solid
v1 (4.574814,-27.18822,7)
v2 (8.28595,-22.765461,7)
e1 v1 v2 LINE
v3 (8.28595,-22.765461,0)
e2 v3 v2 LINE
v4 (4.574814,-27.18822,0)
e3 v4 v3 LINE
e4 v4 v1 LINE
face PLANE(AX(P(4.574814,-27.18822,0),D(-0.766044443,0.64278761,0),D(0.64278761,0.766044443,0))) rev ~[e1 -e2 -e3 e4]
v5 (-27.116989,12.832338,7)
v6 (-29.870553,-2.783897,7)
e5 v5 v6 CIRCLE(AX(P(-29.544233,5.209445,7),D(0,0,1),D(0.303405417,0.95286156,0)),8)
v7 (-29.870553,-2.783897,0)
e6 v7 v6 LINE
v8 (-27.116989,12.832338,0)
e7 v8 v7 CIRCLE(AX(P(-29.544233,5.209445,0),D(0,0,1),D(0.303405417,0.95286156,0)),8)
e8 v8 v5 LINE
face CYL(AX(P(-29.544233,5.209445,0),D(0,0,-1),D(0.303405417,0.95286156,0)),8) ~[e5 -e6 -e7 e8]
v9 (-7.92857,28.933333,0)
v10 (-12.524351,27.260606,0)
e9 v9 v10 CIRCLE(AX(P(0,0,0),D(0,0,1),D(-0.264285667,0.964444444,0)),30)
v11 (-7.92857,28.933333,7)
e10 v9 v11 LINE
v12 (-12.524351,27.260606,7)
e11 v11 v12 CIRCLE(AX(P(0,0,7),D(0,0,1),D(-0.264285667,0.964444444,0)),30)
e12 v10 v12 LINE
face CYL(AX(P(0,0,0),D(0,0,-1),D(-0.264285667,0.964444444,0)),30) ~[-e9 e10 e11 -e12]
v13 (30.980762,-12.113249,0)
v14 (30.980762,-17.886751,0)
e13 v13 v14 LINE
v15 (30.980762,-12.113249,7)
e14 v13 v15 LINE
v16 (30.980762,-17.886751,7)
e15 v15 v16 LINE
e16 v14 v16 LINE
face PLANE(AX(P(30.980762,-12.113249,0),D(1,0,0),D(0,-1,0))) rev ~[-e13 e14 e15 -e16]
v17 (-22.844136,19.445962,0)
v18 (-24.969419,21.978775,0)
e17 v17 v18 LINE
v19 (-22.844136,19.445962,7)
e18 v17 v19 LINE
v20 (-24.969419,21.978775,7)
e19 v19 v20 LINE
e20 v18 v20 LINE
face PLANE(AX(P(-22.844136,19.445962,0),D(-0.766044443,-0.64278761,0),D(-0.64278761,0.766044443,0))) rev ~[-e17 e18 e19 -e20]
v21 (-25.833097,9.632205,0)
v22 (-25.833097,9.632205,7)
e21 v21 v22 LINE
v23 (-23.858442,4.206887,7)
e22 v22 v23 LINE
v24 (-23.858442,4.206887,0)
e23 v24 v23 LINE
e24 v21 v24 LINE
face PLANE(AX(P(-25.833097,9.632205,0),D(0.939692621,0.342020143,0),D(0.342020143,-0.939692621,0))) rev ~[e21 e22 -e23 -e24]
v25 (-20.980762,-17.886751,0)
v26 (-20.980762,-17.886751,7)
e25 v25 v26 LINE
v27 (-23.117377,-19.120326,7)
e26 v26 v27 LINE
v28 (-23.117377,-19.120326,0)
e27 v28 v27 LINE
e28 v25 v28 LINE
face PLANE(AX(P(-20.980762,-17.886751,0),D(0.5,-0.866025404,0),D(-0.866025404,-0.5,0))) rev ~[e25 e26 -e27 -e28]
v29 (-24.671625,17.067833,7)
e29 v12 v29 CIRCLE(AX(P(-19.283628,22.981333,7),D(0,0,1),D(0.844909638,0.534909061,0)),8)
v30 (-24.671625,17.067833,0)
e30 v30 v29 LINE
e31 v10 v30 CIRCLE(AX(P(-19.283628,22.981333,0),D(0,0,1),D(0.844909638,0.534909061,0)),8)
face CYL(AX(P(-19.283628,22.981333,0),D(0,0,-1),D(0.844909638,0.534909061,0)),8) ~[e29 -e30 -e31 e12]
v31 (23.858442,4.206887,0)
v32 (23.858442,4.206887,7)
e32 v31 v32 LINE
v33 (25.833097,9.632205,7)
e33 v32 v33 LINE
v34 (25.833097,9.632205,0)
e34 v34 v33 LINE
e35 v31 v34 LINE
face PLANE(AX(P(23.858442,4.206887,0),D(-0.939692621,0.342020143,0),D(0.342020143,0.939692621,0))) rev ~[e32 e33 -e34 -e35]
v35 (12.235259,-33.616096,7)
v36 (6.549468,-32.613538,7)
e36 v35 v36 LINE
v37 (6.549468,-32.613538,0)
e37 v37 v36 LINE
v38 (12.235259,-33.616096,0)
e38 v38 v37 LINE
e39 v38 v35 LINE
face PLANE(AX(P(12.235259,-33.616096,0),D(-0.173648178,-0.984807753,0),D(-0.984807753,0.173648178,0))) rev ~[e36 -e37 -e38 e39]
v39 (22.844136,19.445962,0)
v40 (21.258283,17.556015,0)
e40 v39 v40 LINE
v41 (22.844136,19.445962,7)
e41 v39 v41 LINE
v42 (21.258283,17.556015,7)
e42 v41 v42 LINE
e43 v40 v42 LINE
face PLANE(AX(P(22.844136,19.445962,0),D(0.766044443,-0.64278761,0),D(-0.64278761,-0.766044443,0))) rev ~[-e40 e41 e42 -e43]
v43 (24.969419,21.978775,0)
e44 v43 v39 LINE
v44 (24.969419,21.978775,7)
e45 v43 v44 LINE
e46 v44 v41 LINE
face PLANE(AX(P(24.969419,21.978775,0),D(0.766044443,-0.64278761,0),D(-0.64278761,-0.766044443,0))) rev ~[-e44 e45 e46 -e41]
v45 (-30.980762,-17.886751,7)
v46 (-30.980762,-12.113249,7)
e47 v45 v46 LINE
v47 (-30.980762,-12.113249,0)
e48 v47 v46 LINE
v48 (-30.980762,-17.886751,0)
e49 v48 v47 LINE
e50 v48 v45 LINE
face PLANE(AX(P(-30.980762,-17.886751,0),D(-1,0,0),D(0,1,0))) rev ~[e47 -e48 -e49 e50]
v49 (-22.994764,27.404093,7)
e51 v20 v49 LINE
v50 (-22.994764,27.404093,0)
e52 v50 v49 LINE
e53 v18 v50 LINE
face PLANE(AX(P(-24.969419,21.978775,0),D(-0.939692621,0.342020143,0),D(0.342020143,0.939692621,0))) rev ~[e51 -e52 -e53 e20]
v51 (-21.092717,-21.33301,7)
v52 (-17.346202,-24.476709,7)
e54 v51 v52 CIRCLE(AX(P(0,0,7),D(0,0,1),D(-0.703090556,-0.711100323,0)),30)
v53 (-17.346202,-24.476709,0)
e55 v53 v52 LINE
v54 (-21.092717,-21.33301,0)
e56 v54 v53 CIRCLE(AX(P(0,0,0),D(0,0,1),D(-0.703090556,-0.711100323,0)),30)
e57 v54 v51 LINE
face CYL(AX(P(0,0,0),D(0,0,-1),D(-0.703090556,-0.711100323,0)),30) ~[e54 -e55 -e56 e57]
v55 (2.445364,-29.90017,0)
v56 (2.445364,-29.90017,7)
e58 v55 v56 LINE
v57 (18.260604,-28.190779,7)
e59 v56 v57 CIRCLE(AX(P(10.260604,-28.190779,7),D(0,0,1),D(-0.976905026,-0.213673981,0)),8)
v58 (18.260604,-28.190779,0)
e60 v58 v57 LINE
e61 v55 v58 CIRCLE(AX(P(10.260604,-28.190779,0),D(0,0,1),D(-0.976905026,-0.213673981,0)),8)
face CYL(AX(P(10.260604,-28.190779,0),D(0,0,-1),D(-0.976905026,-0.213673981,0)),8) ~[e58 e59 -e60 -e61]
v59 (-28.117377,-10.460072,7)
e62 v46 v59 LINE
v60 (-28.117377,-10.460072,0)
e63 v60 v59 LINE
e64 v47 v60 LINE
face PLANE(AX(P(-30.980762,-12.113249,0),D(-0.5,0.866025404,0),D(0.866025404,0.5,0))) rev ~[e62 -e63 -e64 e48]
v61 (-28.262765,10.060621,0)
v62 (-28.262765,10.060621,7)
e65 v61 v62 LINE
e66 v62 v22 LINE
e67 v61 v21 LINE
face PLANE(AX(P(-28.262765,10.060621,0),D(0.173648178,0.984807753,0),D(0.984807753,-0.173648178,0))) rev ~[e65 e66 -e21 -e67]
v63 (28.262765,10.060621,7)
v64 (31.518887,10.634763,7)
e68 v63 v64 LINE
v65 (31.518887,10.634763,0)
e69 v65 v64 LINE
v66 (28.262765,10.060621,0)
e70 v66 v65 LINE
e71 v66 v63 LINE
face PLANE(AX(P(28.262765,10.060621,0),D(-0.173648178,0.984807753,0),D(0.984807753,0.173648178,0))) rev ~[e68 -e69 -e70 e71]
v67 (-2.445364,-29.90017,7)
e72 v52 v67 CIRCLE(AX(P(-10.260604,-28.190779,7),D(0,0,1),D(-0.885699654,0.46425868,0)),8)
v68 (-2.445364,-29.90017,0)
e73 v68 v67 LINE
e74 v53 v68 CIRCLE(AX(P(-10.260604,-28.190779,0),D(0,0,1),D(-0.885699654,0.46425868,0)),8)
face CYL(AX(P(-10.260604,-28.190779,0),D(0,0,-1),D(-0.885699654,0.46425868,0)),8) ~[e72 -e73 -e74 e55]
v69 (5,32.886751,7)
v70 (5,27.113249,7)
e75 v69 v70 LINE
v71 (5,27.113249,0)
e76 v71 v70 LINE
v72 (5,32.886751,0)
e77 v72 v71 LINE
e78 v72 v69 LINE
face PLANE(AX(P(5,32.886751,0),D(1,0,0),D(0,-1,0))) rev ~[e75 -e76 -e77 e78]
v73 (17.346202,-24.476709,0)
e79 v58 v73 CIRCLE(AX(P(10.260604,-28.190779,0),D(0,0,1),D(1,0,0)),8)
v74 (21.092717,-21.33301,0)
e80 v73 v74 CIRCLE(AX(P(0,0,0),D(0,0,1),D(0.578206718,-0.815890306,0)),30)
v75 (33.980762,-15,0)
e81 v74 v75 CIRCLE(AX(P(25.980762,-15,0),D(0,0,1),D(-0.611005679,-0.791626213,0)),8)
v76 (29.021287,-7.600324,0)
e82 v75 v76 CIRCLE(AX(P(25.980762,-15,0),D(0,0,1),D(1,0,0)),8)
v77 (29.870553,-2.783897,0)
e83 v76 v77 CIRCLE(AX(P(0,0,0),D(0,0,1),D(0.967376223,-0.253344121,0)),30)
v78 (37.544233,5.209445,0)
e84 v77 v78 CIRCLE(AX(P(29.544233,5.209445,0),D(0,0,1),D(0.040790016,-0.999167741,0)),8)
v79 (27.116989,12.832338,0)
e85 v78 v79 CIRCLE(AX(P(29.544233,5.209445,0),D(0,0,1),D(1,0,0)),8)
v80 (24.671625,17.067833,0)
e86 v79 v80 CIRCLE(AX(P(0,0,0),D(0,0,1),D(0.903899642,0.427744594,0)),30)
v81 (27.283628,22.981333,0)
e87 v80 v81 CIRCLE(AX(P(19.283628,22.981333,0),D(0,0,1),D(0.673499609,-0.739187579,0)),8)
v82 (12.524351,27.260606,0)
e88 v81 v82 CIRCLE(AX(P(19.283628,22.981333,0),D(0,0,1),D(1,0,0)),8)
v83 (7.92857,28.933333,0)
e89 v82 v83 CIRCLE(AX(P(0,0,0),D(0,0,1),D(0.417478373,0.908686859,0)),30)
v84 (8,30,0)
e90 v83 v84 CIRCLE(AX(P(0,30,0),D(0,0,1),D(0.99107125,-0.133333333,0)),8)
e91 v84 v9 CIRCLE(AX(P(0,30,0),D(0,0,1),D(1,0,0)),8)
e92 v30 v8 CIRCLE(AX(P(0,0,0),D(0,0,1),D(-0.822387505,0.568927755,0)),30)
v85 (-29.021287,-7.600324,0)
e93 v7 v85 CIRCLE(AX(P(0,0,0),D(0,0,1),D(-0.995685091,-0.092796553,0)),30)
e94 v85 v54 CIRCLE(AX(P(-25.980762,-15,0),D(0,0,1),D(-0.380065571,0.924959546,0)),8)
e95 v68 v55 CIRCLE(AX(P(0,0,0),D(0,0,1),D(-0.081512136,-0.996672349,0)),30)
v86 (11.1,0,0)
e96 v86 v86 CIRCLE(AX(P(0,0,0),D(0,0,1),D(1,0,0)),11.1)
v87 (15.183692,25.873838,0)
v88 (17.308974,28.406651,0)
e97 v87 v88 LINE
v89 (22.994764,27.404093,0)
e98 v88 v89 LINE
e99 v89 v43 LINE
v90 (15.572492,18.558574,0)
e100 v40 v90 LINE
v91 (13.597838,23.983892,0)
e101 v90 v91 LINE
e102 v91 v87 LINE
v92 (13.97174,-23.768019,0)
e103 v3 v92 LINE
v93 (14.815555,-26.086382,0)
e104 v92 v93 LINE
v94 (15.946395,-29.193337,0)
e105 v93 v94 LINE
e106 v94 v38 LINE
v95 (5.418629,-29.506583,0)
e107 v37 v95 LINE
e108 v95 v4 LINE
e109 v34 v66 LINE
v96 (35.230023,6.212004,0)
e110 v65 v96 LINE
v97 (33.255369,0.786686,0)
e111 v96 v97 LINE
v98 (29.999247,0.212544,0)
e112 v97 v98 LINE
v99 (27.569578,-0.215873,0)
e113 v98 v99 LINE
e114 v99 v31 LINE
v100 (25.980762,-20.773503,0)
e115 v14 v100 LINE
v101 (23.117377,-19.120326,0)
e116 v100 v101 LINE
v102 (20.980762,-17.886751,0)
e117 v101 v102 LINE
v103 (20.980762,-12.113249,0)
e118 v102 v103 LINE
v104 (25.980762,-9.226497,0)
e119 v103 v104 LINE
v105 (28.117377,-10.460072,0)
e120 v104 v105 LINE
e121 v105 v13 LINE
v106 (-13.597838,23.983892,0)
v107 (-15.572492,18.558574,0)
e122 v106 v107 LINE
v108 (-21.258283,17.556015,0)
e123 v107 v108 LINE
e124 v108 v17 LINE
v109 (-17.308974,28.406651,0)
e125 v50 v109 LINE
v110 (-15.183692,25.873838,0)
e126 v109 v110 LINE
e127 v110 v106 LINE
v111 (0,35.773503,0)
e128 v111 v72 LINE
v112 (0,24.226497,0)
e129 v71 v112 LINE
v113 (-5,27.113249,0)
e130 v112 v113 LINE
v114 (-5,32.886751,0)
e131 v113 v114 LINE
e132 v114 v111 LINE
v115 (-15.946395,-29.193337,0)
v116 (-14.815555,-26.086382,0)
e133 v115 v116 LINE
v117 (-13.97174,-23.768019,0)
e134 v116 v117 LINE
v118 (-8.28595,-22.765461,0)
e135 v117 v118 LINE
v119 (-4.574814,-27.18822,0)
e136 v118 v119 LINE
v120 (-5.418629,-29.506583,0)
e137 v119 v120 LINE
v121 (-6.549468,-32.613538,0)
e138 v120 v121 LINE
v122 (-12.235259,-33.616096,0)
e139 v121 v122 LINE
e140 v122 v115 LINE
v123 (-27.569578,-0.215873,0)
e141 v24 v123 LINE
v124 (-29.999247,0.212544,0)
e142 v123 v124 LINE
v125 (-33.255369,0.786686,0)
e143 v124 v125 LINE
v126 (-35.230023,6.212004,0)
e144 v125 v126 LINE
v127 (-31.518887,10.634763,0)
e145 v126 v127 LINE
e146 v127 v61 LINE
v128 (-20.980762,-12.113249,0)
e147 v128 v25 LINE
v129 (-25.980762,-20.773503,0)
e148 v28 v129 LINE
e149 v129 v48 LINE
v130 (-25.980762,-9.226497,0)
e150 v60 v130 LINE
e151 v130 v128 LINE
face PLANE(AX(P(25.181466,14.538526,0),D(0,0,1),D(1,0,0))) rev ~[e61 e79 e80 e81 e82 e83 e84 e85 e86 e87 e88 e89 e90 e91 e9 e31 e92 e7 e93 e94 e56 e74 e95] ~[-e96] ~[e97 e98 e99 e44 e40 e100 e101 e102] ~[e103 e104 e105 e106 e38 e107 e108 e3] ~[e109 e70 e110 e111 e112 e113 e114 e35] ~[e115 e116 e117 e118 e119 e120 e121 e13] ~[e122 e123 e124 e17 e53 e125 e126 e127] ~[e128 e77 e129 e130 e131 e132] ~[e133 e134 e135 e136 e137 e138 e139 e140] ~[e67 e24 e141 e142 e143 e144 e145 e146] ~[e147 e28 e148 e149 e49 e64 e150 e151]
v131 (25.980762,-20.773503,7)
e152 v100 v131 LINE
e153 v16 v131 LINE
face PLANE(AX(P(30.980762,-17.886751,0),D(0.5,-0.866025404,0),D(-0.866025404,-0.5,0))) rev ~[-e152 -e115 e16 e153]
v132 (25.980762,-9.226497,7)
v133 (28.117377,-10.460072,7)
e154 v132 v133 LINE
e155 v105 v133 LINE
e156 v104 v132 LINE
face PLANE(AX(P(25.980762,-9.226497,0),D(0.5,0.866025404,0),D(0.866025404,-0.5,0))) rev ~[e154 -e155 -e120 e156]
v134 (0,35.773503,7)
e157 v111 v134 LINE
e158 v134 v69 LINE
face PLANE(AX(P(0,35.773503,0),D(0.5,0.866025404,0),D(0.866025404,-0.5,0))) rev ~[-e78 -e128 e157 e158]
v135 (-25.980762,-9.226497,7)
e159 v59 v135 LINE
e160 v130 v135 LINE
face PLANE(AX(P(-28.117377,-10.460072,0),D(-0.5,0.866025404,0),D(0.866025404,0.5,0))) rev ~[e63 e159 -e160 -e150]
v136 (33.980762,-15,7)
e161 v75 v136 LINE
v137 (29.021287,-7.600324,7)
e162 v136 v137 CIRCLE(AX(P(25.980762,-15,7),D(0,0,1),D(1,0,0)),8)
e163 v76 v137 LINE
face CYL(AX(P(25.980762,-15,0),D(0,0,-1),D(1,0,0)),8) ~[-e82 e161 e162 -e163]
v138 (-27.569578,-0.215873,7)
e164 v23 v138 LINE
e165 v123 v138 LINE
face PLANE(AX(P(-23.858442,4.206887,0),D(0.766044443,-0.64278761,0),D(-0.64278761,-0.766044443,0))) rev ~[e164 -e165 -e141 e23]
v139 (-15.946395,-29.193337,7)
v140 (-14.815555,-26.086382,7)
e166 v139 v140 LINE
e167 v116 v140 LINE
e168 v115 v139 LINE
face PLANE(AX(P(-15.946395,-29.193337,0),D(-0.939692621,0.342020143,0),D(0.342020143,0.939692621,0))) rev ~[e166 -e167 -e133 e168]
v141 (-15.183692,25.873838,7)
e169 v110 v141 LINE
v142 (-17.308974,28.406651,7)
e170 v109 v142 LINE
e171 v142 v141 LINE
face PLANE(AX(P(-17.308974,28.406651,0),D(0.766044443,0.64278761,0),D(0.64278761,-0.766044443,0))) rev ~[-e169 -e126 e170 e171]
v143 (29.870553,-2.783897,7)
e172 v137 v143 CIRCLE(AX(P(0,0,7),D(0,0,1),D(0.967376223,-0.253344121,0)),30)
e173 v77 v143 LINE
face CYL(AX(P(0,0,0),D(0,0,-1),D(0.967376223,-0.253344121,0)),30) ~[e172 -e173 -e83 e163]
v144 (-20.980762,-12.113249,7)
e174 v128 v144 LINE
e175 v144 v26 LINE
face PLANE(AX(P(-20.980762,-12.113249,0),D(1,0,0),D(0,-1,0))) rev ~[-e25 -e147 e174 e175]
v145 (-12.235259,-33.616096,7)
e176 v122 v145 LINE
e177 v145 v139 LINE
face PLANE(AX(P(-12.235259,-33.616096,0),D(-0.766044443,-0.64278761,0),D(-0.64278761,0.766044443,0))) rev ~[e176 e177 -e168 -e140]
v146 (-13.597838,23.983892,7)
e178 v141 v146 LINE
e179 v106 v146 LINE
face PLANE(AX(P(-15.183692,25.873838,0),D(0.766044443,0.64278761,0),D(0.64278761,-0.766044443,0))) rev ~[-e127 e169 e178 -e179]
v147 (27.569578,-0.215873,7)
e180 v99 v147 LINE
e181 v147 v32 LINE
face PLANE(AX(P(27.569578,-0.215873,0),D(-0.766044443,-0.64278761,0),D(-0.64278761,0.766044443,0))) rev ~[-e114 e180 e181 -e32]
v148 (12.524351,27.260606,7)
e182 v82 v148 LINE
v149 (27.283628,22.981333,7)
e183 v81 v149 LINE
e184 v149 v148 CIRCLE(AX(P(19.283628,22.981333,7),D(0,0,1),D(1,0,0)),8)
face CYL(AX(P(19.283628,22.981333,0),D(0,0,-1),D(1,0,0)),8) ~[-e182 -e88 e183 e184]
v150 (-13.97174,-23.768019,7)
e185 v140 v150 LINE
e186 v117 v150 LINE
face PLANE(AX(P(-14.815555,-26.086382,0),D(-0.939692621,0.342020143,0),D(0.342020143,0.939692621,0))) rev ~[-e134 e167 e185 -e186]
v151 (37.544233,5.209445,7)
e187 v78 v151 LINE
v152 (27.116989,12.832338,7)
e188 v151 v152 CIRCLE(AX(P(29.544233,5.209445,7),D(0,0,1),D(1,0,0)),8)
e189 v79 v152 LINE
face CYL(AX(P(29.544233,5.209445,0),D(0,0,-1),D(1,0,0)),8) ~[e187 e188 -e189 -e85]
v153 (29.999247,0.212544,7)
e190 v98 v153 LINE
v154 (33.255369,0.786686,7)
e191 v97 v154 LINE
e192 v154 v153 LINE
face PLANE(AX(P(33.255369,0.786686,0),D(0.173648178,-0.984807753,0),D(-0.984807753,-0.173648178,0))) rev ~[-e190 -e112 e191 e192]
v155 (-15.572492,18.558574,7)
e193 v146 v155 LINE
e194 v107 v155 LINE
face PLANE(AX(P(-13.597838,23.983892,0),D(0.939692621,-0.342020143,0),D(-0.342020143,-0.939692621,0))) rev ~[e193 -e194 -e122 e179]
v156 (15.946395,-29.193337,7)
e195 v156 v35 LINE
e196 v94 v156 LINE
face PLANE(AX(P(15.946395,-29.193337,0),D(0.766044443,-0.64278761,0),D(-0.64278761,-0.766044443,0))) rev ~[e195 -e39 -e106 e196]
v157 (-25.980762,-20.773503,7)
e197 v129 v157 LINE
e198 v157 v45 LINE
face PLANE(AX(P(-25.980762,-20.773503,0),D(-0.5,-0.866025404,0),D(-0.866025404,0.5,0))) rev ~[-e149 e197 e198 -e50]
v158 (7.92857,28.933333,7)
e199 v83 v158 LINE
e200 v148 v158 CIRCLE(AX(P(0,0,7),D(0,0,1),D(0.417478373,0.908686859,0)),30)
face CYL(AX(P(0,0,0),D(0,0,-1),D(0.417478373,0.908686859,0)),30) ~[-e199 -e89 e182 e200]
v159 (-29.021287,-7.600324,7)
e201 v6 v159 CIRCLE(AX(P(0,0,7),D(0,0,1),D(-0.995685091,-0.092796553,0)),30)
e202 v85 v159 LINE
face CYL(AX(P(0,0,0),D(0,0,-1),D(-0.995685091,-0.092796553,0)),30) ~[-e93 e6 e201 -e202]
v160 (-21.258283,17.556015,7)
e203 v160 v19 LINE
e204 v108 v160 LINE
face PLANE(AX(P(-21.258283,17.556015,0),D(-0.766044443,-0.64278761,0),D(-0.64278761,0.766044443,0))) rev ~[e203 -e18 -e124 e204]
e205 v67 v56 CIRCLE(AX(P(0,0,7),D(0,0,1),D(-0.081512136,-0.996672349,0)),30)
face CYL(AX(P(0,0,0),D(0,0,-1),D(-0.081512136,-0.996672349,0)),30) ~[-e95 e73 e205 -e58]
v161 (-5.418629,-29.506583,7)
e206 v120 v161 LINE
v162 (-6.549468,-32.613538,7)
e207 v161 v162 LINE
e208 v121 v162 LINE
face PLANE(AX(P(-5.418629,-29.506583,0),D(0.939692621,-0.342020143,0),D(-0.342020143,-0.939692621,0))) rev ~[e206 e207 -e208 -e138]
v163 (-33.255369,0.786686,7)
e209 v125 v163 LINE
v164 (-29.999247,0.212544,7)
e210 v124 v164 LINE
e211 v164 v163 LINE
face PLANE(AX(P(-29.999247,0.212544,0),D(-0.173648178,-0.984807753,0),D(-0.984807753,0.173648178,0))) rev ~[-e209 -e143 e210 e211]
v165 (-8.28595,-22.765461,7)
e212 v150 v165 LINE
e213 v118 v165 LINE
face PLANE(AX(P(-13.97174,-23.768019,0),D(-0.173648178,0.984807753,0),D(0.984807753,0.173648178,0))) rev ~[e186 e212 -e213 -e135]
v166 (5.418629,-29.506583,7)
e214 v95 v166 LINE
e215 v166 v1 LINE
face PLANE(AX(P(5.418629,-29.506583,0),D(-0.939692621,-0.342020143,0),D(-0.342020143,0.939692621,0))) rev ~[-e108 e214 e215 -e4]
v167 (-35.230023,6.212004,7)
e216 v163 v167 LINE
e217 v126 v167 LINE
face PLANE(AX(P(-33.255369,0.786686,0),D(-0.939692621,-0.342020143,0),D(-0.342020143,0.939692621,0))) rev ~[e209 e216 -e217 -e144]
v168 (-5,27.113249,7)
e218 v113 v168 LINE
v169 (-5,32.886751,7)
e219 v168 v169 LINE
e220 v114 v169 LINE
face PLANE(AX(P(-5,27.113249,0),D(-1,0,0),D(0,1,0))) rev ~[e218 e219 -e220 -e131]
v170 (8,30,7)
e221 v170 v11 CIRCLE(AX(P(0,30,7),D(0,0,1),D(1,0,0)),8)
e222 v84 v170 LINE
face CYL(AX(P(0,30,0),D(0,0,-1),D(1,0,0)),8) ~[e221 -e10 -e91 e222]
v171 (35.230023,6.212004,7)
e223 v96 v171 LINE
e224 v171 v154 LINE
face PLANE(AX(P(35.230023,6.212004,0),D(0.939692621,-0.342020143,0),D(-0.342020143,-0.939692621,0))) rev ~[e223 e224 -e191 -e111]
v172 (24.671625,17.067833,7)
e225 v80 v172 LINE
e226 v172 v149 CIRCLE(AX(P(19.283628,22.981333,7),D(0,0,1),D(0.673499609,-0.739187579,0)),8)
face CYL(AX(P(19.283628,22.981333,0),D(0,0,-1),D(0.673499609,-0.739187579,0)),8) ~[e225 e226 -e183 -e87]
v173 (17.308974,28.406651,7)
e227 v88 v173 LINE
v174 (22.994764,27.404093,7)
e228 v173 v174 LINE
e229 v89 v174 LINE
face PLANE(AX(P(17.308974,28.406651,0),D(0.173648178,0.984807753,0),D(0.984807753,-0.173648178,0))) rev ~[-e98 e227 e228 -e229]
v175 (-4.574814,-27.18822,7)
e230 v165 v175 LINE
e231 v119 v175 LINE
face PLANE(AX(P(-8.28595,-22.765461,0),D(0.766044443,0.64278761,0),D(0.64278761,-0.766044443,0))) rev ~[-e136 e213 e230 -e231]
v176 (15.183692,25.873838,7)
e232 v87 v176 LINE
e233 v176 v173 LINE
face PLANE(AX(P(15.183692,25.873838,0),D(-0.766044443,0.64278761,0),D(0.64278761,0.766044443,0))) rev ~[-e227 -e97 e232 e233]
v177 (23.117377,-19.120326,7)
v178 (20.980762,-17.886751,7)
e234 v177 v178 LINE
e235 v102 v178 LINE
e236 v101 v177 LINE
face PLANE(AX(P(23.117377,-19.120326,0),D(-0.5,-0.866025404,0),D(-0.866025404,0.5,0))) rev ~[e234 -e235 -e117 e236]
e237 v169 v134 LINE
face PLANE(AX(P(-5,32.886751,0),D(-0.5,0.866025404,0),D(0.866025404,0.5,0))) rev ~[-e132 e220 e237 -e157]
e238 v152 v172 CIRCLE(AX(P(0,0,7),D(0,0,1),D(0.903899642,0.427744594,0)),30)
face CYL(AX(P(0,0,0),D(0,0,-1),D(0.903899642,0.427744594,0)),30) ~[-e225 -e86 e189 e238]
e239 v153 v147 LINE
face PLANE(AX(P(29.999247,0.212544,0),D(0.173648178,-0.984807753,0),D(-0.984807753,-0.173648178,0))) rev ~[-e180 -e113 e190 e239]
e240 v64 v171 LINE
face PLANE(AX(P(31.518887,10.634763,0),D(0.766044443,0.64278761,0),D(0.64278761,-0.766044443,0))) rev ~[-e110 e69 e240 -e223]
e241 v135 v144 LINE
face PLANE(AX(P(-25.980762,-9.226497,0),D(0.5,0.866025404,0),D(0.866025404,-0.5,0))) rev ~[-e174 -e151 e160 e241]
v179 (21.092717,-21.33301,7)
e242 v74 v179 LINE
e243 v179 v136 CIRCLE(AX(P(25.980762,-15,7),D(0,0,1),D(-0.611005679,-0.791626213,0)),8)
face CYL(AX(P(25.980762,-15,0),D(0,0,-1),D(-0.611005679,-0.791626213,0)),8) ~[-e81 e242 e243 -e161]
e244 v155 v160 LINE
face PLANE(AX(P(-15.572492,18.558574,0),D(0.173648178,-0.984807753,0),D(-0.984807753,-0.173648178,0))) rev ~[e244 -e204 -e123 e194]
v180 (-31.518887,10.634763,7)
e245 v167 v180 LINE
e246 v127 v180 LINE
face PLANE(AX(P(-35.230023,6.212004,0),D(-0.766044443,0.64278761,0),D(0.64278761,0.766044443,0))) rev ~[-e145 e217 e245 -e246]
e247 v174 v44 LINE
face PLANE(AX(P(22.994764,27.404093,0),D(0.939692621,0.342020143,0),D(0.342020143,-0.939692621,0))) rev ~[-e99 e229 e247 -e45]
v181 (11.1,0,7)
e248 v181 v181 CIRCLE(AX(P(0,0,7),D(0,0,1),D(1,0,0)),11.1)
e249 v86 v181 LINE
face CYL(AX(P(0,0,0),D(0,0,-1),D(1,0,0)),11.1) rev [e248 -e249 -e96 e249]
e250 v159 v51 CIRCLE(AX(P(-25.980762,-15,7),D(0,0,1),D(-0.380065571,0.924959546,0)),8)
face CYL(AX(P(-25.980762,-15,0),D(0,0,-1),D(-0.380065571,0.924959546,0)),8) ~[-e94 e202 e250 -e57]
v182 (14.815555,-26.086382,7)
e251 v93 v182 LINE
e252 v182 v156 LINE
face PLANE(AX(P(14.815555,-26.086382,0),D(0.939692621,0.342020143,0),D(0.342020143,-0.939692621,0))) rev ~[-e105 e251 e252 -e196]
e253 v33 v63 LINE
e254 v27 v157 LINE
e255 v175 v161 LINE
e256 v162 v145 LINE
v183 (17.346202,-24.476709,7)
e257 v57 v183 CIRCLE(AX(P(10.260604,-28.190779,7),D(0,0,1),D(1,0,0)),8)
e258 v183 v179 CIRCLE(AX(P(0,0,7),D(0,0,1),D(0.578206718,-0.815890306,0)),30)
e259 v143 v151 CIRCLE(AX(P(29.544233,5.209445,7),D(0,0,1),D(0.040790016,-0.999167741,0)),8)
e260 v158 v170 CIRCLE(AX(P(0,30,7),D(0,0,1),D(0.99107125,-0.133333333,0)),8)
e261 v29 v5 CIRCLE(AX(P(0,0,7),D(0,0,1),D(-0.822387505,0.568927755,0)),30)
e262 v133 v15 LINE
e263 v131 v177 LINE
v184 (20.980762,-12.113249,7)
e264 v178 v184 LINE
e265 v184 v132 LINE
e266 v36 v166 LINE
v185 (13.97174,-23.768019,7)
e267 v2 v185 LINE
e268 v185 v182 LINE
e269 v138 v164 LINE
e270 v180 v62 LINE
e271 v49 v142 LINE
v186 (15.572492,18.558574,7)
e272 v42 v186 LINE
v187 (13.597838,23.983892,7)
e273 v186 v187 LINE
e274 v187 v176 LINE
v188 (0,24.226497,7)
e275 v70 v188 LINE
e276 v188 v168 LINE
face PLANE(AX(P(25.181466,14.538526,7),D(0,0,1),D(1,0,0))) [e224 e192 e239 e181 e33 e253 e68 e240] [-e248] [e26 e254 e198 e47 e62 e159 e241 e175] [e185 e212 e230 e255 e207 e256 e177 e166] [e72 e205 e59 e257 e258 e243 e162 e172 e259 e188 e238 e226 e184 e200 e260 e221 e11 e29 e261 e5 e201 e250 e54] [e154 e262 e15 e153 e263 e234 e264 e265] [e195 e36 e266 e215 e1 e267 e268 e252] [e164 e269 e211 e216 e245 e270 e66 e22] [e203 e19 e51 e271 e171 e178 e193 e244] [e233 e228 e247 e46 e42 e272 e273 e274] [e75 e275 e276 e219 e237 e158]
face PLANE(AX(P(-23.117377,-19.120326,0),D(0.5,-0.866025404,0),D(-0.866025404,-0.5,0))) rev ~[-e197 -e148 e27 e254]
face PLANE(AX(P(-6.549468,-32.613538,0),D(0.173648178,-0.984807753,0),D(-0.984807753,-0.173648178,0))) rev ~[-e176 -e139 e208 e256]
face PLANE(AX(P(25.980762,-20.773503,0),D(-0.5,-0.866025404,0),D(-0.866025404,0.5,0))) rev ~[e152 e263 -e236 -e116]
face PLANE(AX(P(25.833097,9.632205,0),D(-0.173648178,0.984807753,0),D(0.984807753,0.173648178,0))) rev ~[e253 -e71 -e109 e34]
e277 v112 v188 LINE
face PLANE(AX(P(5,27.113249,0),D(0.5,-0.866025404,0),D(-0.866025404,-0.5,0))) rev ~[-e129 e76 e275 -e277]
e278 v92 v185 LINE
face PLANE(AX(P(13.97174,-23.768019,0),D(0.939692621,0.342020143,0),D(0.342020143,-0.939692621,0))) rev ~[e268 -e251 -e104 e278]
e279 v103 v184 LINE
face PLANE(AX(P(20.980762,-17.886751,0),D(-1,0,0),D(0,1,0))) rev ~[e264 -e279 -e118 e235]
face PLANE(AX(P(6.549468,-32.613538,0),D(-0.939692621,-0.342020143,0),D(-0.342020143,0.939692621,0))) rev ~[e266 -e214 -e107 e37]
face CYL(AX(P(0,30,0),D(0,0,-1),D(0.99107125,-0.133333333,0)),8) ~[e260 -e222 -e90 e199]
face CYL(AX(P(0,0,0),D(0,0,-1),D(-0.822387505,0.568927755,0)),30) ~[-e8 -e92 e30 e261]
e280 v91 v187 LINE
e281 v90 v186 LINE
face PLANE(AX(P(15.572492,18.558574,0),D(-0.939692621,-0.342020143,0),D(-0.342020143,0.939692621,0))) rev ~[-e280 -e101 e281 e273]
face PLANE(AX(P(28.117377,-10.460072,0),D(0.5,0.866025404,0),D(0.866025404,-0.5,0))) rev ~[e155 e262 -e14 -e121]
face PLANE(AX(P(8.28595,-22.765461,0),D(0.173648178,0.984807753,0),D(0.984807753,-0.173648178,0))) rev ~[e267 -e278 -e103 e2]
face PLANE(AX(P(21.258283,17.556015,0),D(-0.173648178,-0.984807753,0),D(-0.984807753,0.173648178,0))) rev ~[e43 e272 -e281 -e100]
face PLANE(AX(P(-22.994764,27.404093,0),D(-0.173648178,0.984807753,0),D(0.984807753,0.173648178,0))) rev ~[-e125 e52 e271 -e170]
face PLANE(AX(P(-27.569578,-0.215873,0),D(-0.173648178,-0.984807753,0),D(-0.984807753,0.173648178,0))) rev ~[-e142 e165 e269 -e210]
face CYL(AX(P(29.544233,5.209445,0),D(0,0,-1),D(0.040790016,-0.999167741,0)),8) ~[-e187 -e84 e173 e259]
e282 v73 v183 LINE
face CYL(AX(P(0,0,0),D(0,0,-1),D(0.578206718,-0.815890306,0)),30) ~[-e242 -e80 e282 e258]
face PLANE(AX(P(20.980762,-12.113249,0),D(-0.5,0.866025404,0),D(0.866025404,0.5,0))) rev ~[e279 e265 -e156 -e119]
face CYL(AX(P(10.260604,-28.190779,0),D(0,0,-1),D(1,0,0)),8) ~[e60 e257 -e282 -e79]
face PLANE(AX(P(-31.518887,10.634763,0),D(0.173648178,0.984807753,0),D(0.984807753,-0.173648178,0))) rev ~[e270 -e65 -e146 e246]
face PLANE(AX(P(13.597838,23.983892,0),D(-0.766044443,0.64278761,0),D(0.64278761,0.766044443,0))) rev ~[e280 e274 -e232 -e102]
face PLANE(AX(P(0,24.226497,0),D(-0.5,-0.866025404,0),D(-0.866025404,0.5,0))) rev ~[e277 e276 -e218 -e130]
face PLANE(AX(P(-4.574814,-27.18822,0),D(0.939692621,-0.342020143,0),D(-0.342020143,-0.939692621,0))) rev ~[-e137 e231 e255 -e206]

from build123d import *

# Parameters (mm, degrees)
F0_R     = 11.1
F1_DEPTH = 7


with BuildPart() as f1:
    # F0 (on Top) → F1 (new body)
    with BuildSketch(Plane.XY):
        with BuildLine():
            ThreePointArc((26.4810619211, 12.5997758673), (26.7965639879, 12.722787945), (27.1169892554, 12.8323378121))
            ThreePointArc((27.1169892554, 12.8323378121), (25.9807621135, 15), (24.6716251629, 17.0678326633))
            ThreePointArc((24.6716251629, 17.0678326633), (24.4165395613, 16.8451111751), (24.1522569436, 16.6333844092))
            ThreePointArc((24.1522569436, 16.6333844092), (23.8477512735, 13.7685056173), (26.4810619211, 12.5997758673))
        make_face()
        with BuildLine():
            ThreePointArc((37.5442325904, 5.20944533), (34.2655699708, 11.6676938031), (27.1169892554, 12.8323378121))
            ThreePointArc((27.1169892554, 12.8323378121), (27.7245361912, 11.4608068208), (28.2627653008, 10.0606211314))
            Line((28.2627653008, 10.0606211314), (31.5188868085, 10.6347632057))
            Line((31.5188868085, 10.6347632057), (35.2300228034, 6.2120035512))
            Line((35.2300228034, 6.2120035512), (33.2553685852, 0.7866856755))
            Line((33.2553685852, 0.7866856755), (29.9992470775, 0.2125436013))
            ThreePointArc((29.9992470775, 0.2125436013), (29.9998117688, 0.1062724674), (30, 0))
            ThreePointArc((30, 0), (29.9676207061, -1.3934522655), (29.8705527189, -2.7838965977))
            ThreePointArc((29.8705527189, -2.7838965977), (35.3153053255, -0.3308362049), (37.5442325904, 5.20944533))
        make_face()
        with BuildLine():
            ThreePointArc((26.4810619211, 12.5997758673), (26.8071092732, 12.6939524656), (27.1169892554, 12.8323378121))
            ThreePointArc((27.1169892554, 12.8323378121), (26.7965639879, 12.722787945), (26.4810619211, 12.5997758673))
        make_face()
        with BuildLine():
            ThreePointArc((28.2627653008, 10.0606211314), (27.7245361912, 11.4608068208), (27.1169892554, 12.8323378121))
            ThreePointArc((27.1169892554, 12.8323378121), (26.8071092732, 12.6939524656), (26.4810619211, 12.5997758673))
            ThreePointArc((26.4810619211, 12.5997758673), (21.6657705663, 3.8202599087), (29.1934356258, -2.7828598124))
            ThreePointArc((29.1934356258, -2.7828598124), (29.5320302103, -2.7598421048), (29.8705527189, -2.7838965977))
            ThreePointArc((29.8705527189, -2.7838965977), (29.9676207061, -1.3934522655), (30, 0))
            ThreePointArc((30, 0), (29.9998117688, 0.1062724674), (29.9992470775, 0.2125436013))
            Line((29.9992470775, 0.2125436013), (27.5695783722, -0.2158725457))
            Line((27.5695783722, -0.2158725457), (23.8584423773, 4.2068871088))
            Line((23.8584423773, 4.2068871088), (25.8330965955, 9.6322049845))
            Line((25.8330965955, 9.6322049845), (28.2627653008, 10.0606211314))
        make_face()
        with BuildLine():
            ThreePointArc((24.1522569436, 16.6333844092), (24.3968399462, 16.8686613998), (24.6716251629, 17.0678326633))
            ThreePointArc((24.6716251629, 17.0678326633), (23.7876179503, 18.2797492393), (22.8441361281, 19.445962166))
            Line((22.8441361281, 19.445962166), (21.2582825088, 17.5560154179))
            Line((21.2582825088, 17.5560154179), (15.5724922958, 18.5585736391))
            Line((15.5724922958, 18.5585736391), (13.5978380776, 23.9838915148))
            Line((13.5978380776, 23.9838915148), (15.1836916969, 25.8738382629))
            ThreePointArc((15.1836916969, 25.8738382629), (13.8713622659, 26.6004757267), (12.5243511843, 27.2606057785))
            ThreePointArc((12.5243511843, 27.2606057785), (12.375921732, 26.9554094398), (12.1866905202, 26.6736867819))
            ThreePointArc((12.1866905202, 26.6736867819), (14.1413274131, 16.8529777486), (24.1522569436, 16.6333844092))
        make_face()
        with BuildLine():
            ThreePointArc((22.8441361281, 19.445962166), (23.7876179503, 18.2797492393), (24.6716251629, 17.0678326633))
            ThreePointArc((24.6716251629, 17.0678326633), (26.6015506384, 19.7489947422), (27.2836282906, 22.9813332936))
            ThreePointArc((27.2836282906, 22.9813332936), (21.5113831189, 30.6648942145), (12.5243511843, 27.2606057785))
            ThreePointArc((12.5243511843, 27.2606057785), (13.8713622659, 26.6004757267), (15.1836916969, 25.8738382629))
            Line((15.1836916969, 25.8738382629), (17.3089740724, 28.4066511692))
            Line((17.3089740724, 28.4066511692), (22.9947642854, 27.404092948))
            Line((22.9947642854, 27.404092948), (24.9694185036, 21.9787750724))
            Line((24.9694185036, 21.9787750724), (22.8441361281, 19.445962166))
        make_face()
        with BuildLine():
            ThreePointArc((24.1522569436, 16.6333844092), (24.4165395613, 16.8451111751), (24.6716251629, 17.0678326633))
            ThreePointArc((24.6716251629, 17.0678326633), (24.3968399462, 16.8686613998), (24.1522569436, 16.6333844092))
        make_face()
        with BuildLine():
            ThreePointArc((29.0212866821, -7.6003236322), (29.5442325904, -5.20944533), (29.8705527189, -2.7838965977))
            ThreePointArc((29.8705527189, -2.7838965977), (29.5319831983, -2.790545292), (29.1934356258, -2.7828598124))
            ThreePointArc((29.1934356258, -2.7828598124), (27.1186621586, -4.7817518193), (28.3846501448, -7.3697102065))
            ThreePointArc((28.3846501448, -7.3697102065), (28.7054093893, -7.4782783073), (29.0212866821, -7.6003236322))
        make_face()
        with BuildLine():
            ThreePointArc((29.1934356258, -2.7828598124), (29.5319831983, -2.790545292), (29.8705527189, -2.7838965977))
            ThreePointArc((29.8705527189, -2.7838965977), (29.5320302103, -2.7598421048), (29.1934356258, -2.7828598124))
        make_face()
        with BuildLine():
            ThreePointArc((12.1866905202, 26.6736867819), (12.3493084858, 26.9707203199), (12.5243511843, 27.2606057785))
            ThreePointArc((12.5243511843, 27.2606057785), (10.2606042998, 28.1907786236), (7.9285699986, 28.9333333333))
            ThreePointArc((7.9285699986, 28.9333333333), (7.876325704, 28.5987529108), (7.8099688151, 28.2666832062))
            ThreePointArc((7.8099688151, 28.2666832062), (9.4182125292, 25.8763262557), (12.1866905202, 26.6736867819))
        make_face()
        with BuildLine():
            ThreePointArc((12.1866905202, 26.6736867819), (12.375921732, 26.9554094398), (12.5243511843, 27.2606057785))
            ThreePointArc((12.5243511843, 27.2606057785), (12.3493084858, 26.9707203199), (12.1866905202, 26.6736867819))
        make_face()
        with BuildLine():
            ThreePointArc((33.9807621135, -15), (32.6262190786, -10.5460240542), (29.0212866821, -7.6003236322))
            ThreePointArc((29.0212866821, -7.6003236322), (28.6050915087, -9.0415009693), (28.1173769149, -10.4600724388))
            Line((28.1173769149, -10.4600724388), (30.9807621135, -12.1132486541))
            Line((30.9807621135, -12.1132486541), (30.9807621135, -17.8867513459))
            Line((30.9807621135, -17.8867513459), (25.9807621135, -20.7735026919))
            Line((25.9807621135, -20.7735026919), (23.1173769149, -19.1203264767))
            ThreePointArc((23.1173769149, -19.1203264767), (22.1327152821, -20.2519854395), (21.0927166835, -21.3330097011))
            ThreePointArc((21.0927166835, -21.3330097011), (29.5089086921, -22.1799847994), (33.9807621135, -15))
        make_face()
        with BuildLine():
            ThreePointArc((28.3846501448, -7.3697102065), (28.6949524576, -7.5071459448), (29.0212866821, -7.6003236322))
            ThreePointArc((29.0212866821, -7.6003236322), (28.7054093893, -7.4782783073), (28.3846501448, -7.3697102065))
        make_face()
        with BuildLine():
            ThreePointArc((28.1173769149, -10.4600724388), (28.6050915087, -9.0415009693), (29.0212866821, -7.6003236322))
            ThreePointArc((29.0212866821, -7.6003236322), (28.6949524576, -7.5071459448), (28.3846501448, -7.3697102065))
            ThreePointArc((28.3846501448, -7.3697102065), (19.0525588833, -11), (20.5746813298, -20.8969729997))
            ThreePointArc((20.5746813298, -20.8969729997), (20.848855327, -21.0969848163), (21.0927166835, -21.3330097011))
            ThreePointArc((21.0927166835, -21.3330097011), (22.1327152821, -20.2519854395), (23.1173769149, -19.1203264767))
            Line((23.1173769149, -19.1203264767), (20.9807621135, -17.8867513459))
            Line((20.9807621135, -17.8867513459), (20.9807621135, -12.1132486541))
            Line((20.9807621135, -12.1132486541), (25.9807621135, -9.2264973081))
            Line((25.9807621135, -9.2264973081), (28.1173769149, -10.4600724388))
        make_face()
        with BuildLine():
            ThreePointArc((7.8099688151, 28.2666832062), (7.8460971307, 28.6041307611), (7.9285699986, 28.9333333333))
            ThreePointArc((7.9285699986, 28.9333333333), (6.4723762266, 29.2934864088), (5, 29.5803989155))
            Line((5, 29.5803989155), (5, 27.1132486541))
            Line((5, 27.1132486541), (0, 24.2264973081))
            Line((0, 24.2264973081), (-5, 27.1132486541))
            Line((-5, 27.1132486541), (-5, 29.5803989155))
            ThreePointArc((-5, 29.5803989155), (-6.4723762266, 29.2934864088), (-7.9285699986, 28.9333333333))
            ThreePointArc((-7.9285699986, 28.9333333333), (-7.8460971307, 28.6041307611), (-7.8099688151, 28.2666832062))
            ThreePointArc((-7.8099688151, 28.2666832062), (0, 22), (7.8099688151, 28.2666832062))
        make_face()
        with BuildLine():
            ThreePointArc((5, 29.5803989155), (6.4723762266, 29.2934864088), (7.9285699986, 28.9333333333))
            ThreePointArc((7.9285699986, 28.9333333333), (7.9821225244, 29.4654721656), (8, 30))
            ThreePointArc((8, 30), (-0.5345278344, 37.9821225244), (-7.9285699986, 28.9333333333))
            ThreePointArc((-7.9285699986, 28.9333333333), (-6.4723762266, 29.2934864088), (-5, 29.5803989155))
            Line((-5, 29.5803989155), (-5, 32.8867513459))
            Line((-5, 32.8867513459), (0, 35.7735026919))
            Line((0, 35.7735026919), (5, 32.8867513459))
            Line((5, 32.8867513459), (5, 29.5803989155))
        make_face()
        with BuildLine():
            ThreePointArc((7.8099688151, 28.2666832062), (7.876325704, 28.5987529108), (7.9285699986, 28.9333333333))
            ThreePointArc((7.9285699986, 28.9333333333), (7.8460971307, 28.6041307611), (7.8099688151, 28.2666832062))
        make_face()
        with BuildLine():
            ThreePointArc((21.0927166835, -21.3330097011), (20.848855327, -21.0969848163), (20.5746813298, -20.8969729997))
            ThreePointArc((20.5746813298, -20.8969729997), (20.8290836854, -21.1204746035), (21.0927166835, -21.3330097011))
        make_face()
        with BuildLine():
            ThreePointArc((21.0927166835, -21.3330097011), (20.8290836854, -21.1204746035), (20.5746813298, -20.8969729997))
            ThreePointArc((20.5746813298, -20.8969729997), (17.7004496294, -21.0945744364), (17.0067451056, -23.8908269695))
            ThreePointArc((17.0067451056, -23.8908269695), (17.1826747124, -24.1801750278), (17.3462015346, -24.4767091808))
            ThreePointArc((17.3462015346, -24.4767091808), (19.2836282906, -22.9813332936), (21.0927166835, -21.3330097011))
        make_face()
        with BuildLine():
            ThreePointArc((-12.1866905202, 26.6736867819), (-9.4182125292, 25.8763262557), (-7.8099688151, 28.2666832062))
            ThreePointArc((-7.8099688151, 28.2666832062), (-7.876325704, 28.5987529108), (-7.9285699986, 28.9333333333))
            ThreePointArc((-7.9285699986, 28.9333333333), (-10.2606042998, 28.1907786236), (-12.5243511843, 27.2606057785))
            ThreePointArc((-12.5243511843, 27.2606057785), (-12.3493084858, 26.9707203199), (-12.1866905202, 26.6736867819))
        make_face()
        with BuildLine():
            ThreePointArc((-7.9285699986, 28.9333333333), (-7.876325704, 28.5987529108), (-7.8099688151, 28.2666832062))
            ThreePointArc((-7.8099688151, 28.2666832062), (-7.8460971307, 28.6041307611), (-7.9285699986, 28.9333333333))
        make_face()
        with BuildLine():
            ThreePointArc((17.3462015346, -24.4767091808), (17.1561084783, -24.195567335), (17.0067451056, -23.8908269695))
            ThreePointArc((17.0067451056, -23.8908269695), (7.5244431532, -20.6732376573), (2.3288049774, -29.2331602765))
            ThreePointArc((2.3288049774, -29.2331602765), (2.410269327, -29.5626138654), (2.4453640925, -29.9001704754))
            ThreePointArc((2.4453640925, -29.9001704754), (3.9369182409, -29.7405560601), (5.4186291728, -29.5065832974))
            Line((5.4186291728, -29.5065832974), (4.5748140868, -27.1882204024))
            Line((4.5748140868, -27.1882204024), (8.2859500816, -22.7654607479))
            Line((8.2859500816, -22.7654607479), (13.9717402946, -23.7680189691))
            Line((13.9717402946, -23.7680189691), (14.8155553806, -26.0863818642))
            ThreePointArc((14.8155553806, -26.0863818642), (16.1010065991, -25.3131899707), (17.3462015346, -24.4767091808))
        make_face()
        with BuildLine():
            ThreePointArc((17.3462015346, -24.4767091808), (17.1826747124, -24.1801750278), (17.0067451056, -23.8908269695))
            ThreePointArc((17.0067451056, -23.8908269695), (17.1561084783, -24.195567335), (17.3462015346, -24.4767091808))
        make_face()
        with BuildLine():
            ThreePointArc((-12.5243511843, 27.2606057785), (-12.375921732, 26.9554094398), (-12.1866905202, 26.6736867819))
            ThreePointArc((-12.1866905202, 26.6736867819), (-12.3493084858, 26.9707203199), (-12.5243511843, 27.2606057785))
        make_face()
        with BuildLine():
            ThreePointArc((-11.2836282906, 22.9813332936), (-11.5126726813, 24.881925022), (-12.1866905202, 26.6736867819))
            ThreePointArc((-12.1866905202, 26.6736867819), (-12.375921732, 26.9554094398), (-12.5243511843, 27.2606057785))
            ThreePointArc((-12.5243511843, 27.2606057785), (-13.8713622659, 26.6004757267), (-15.1836916969, 25.8738382629))
            Line((-15.1836916969, 25.8738382629), (-13.5978380776, 23.9838915148))
            Line((-13.5978380776, 23.9838915148), (-15.5724922958, 18.5585736391))
            Line((-15.5724922958, 18.5585736391), (-21.2582825088, 17.5560154179))
            Line((-21.2582825088, 17.5560154179), (-22.8441361281, 19.445962166))
            ThreePointArc((-22.8441361281, 19.445962166), (-23.7876179503, 18.2797492393), (-24.6716251629, 17.0678326633))
            ThreePointArc((-24.6716251629, 17.0678326633), (-24.3968399462, 16.8686613998), (-24.1522569436, 16.6333844092))
            ThreePointArc((-24.1522569436, 16.6333844092), (-15.7444920417, 15.8067591172), (-11.2836282906, 22.9813332936))
        make_face()
        with BuildLine():
            ThreePointArc((18.2606042998, -28.1907786236), (18.0286406629, -26.2782904378), (17.3462015346, -24.4767091808))
            ThreePointArc((17.3462015346, -24.4767091808), (16.1010065991, -25.3131899707), (14.8155553806, -26.0863818642))
            Line((14.8155553806, -26.0863818642), (15.9463945128, -29.1933368448))
            Line((15.9463945128, -29.1933368448), (12.2352585179, -33.6160964992))
            Line((12.2352585179, -33.6160964992), (6.5494683049, -32.613538278))
            Line((6.5494683049, -32.613538278), (5.4186291728, -29.5065832974))
            ThreePointArc((5.4186291728, -29.5065832974), (3.9369182409, -29.7405560601), (2.4453640925, -29.9001704754))
            ThreePointArc((2.4453640925, -29.9001704754), (11.1202781746, -36.1444545554), (18.2606042998, -28.1907786236))
        make_face()
        with BuildLine():
            ThreePointArc((2.4453640925, -29.9001704754), (2.410269327, -29.5626138654), (2.3288049774, -29.2331602765))
            ThreePointArc((2.3288049774, -29.2331602765), (2.3800244266, -29.5678991202), (2.4453640925, -29.9001704754))
        make_face()
        with BuildLine():
            ThreePointArc((2.4453640925, -29.9001704754), (2.3800244266, -29.5678991202), (2.3288049774, -29.2331602765))
            ThreePointArc((2.3288049774, -29.2331602765), (0, -27.5370112346), (-2.3288049774, -29.2331602765))
            ThreePointArc((-2.3288049774, -29.2331602765), (-2.3800244266, -29.5678991202), (-2.4453640925, -29.9001704754))
            ThreePointArc((-2.4453640925, -29.9001704754), (0, -30), (2.4453640925, -29.9001704754))
        make_face()
        with BuildLine():
            ThreePointArc((-15.1836916969, 25.8738382629), (-13.8713622659, 26.6004757267), (-12.5243511843, 27.2606057785))
            ThreePointArc((-12.5243511843, 27.2606057785), (-24.4259291681, 29.1096888385), (-24.6716251629, 17.0678326633))
            ThreePointArc((-24.6716251629, 17.0678326633), (-23.7876179503, 18.2797492393), (-22.8441361281, 19.445962166))
            Line((-22.8441361281, 19.445962166), (-24.9694185036, 21.9787750724))
            Line((-24.9694185036, 21.9787750724), (-22.9947642854, 27.404092948))
            Line((-22.9947642854, 27.404092948), (-17.3089740724, 28.4066511692))
            Line((-17.3089740724, 28.4066511692), (-15.1836916969, 25.8738382629))
        make_face()
        with BuildLine():
            ThreePointArc((-2.4453640925, -29.9001704754), (-2.410269327, -29.5626138654), (-2.3288049774, -29.2331602765))
            ThreePointArc((-2.3288049774, -29.2331602765), (-2.2776726773, -28.7130838128), (-2.2606042998, -28.1907786236))
            ThreePointArc((-2.2606042998, -28.1907786236), (-8.0210872142, -20.51063779), (-17.0067451056, -23.8908269695))
            ThreePointArc((-17.0067451056, -23.8908269695), (-17.1561084783, -24.195567335), (-17.3462015346, -24.4767091808))
            ThreePointArc((-17.3462015346, -24.4767091808), (-16.1010065991, -25.3131899707), (-14.8155553806, -26.0863818642))
            Line((-14.8155553806, -26.0863818642), (-13.9717402946, -23.7680189691))
            Line((-13.9717402946, -23.7680189691), (-8.2859500816, -22.7654607479))
            Line((-8.2859500816, -22.7654607479), (-4.5748140868, -27.1882204024))
            Line((-4.5748140868, -27.1882204024), (-5.4186291728, -29.5065832974))
            ThreePointArc((-5.4186291728, -29.5065832974), (-3.9369182409, -29.7405560601), (-2.4453640925, -29.9001704754))
        make_face()
        with BuildLine():
            ThreePointArc((-2.4453640925, -29.9001704754), (-2.3800244266, -29.5678991202), (-2.3288049774, -29.2331602765))
            ThreePointArc((-2.3288049774, -29.2331602765), (-2.410269327, -29.5626138654), (-2.4453640925, -29.9001704754))
        make_face()
        with BuildLine():
            ThreePointArc((-24.1522569436, 16.6333844092), (-24.4165395613, 16.8451111751), (-24.6716251629, 17.0678326633))
            ThreePointArc((-24.6716251629, 17.0678326633), (-25.9807621135, 15), (-27.1169892554, 12.8323378121))
            ThreePointArc((-27.1169892554, 12.8323378121), (-26.7965639879, 12.722787945), (-26.4810619211, 12.5997758673))
            ThreePointArc((-26.4810619211, 12.5997758673), (-23.8477512735, 13.7685056173), (-24.1522569436, 16.6333844092))
        make_face()
        with BuildLine():
            ThreePointArc((-24.1522569436, 16.6333844092), (-24.3968399462, 16.8686613998), (-24.6716251629, 17.0678326633))
            ThreePointArc((-24.6716251629, 17.0678326633), (-24.4165395613, 16.8451111751), (-24.1522569436, 16.6333844092))
        make_face()
        with BuildLine():
            ThreePointArc((-17.3462015346, -24.4767091808), (-12.9967654464, -35.7083195899), (-2.4453640925, -29.9001704754))
            ThreePointArc((-2.4453640925, -29.9001704754), (-3.9369182409, -29.7405560601), (-5.4186291728, -29.5065832974))
            Line((-5.4186291728, -29.5065832974), (-6.5494683049, -32.613538278))
            Line((-6.5494683049, -32.613538278), (-12.2352585179, -33.6160964992))
            Line((-12.2352585179, -33.6160964992), (-15.9463945128, -29.1933368448))
            Line((-15.9463945128, -29.1933368448), (-14.8155553806, -26.0863818642))
            ThreePointArc((-14.8155553806, -26.0863818642), (-16.1010065991, -25.3131899707), (-17.3462015346, -24.4767091808))
        make_face()
        with BuildLine():
            ThreePointArc((-26.4810619211, 12.5997758673), (-26.8071092732, 12.6939524656), (-27.1169892554, 12.8323378121))
            ThreePointArc((-27.1169892554, 12.8323378121), (-27.7245361912, 11.4608068208), (-28.2627653008, 10.0606211314))
            Line((-28.2627653008, 10.0606211314), (-25.8330965955, 9.6322049845))
            Line((-25.8330965955, 9.6322049845), (-23.8584423773, 4.2068871088))
            Line((-23.8584423773, 4.2068871088), (-27.5695783722, -0.2158725457))
            Line((-27.5695783722, -0.2158725457), (-29.9992470775, 0.2125436013))
            ThreePointArc((-29.9992470775, 0.2125436013), (-29.972368865, -1.287285756), (-29.8705527189, -2.7838965977))
            ThreePointArc((-29.8705527189, -2.7838965977), (-29.5320302103, -2.7598421048), (-29.1934356258, -2.7828598124))
            ThreePointArc((-29.1934356258, -2.7828598124), (-23.7646834853, -0.3219931937), (-21.5442325904, 5.20944533))
            ThreePointArc((-21.5442325904, 5.20944533), (-22.8919636032, 9.6532407036), (-26.4810619211, 12.5997758673))
        make_face()
        with BuildLine():
            ThreePointArc((-28.2627653008, 10.0606211314), (-27.7245361912, 11.4608068208), (-27.1169892554, 12.8323378121))
            ThreePointArc((-27.1169892554, 12.8323378121), (-37.4226946145, 6.5986307513), (-29.8705527189, -2.7838965977))
            ThreePointArc((-29.8705527189, -2.7838965977), (-29.972368865, -1.287285756), (-29.9992470775, 0.2125436013))
            Line((-29.9992470775, 0.2125436013), (-33.2553685852, 0.7866856755))
            Line((-33.2553685852, 0.7866856755), (-35.2300228034, 6.2120035512))
            Line((-35.2300228034, 6.2120035512), (-31.5188868085, 10.6347632057))
            Line((-31.5188868085, 10.6347632057), (-28.2627653008, 10.0606211314))
        make_face()
        with BuildLine():
            ThreePointArc((-26.4810619211, 12.5997758673), (-26.7965639879, 12.722787945), (-27.1169892554, 12.8323378121))
            ThreePointArc((-27.1169892554, 12.8323378121), (-26.8071092732, 12.6939524656), (-26.4810619211, 12.5997758673))
        make_face()
        with BuildLine():
            ThreePointArc((-21.0927166835, -21.3330097011), (-19.2836282906, -22.9813332936), (-17.3462015346, -24.4767091808))
            ThreePointArc((-17.3462015346, -24.4767091808), (-17.1826747124, -24.1801750278), (-17.0067451056, -23.8908269695))
            ThreePointArc((-17.0067451056, -23.8908269695), (-17.7004496294, -21.0945744364), (-20.5746813298, -20.8969729997))
            ThreePointArc((-20.5746813298, -20.8969729997), (-20.8290836854, -21.1204746035), (-21.0927166835, -21.3330097011))
        make_face()
        with BuildLine():
            ThreePointArc((-17.0067451056, -23.8908269695), (-17.1826747124, -24.1801750278), (-17.3462015346, -24.4767091808))
            ThreePointArc((-17.3462015346, -24.4767091808), (-17.1561084783, -24.195567335), (-17.0067451056, -23.8908269695))
        make_face()
        with BuildLine():
            ThreePointArc((-29.1934356258, -2.7828598124), (-29.5319831983, -2.790545292), (-29.8705527189, -2.7838965977))
            ThreePointArc((-29.8705527189, -2.7838965977), (-29.5442325904, -5.20944533), (-29.0212866821, -7.6003236322))
            ThreePointArc((-29.0212866821, -7.6003236322), (-28.7054093893, -7.4782783073), (-28.3846501448, -7.3697102065))
            ThreePointArc((-28.3846501448, -7.3697102065), (-27.1186621586, -4.7817518193), (-29.1934356258, -2.7828598124))
        make_face()
        with BuildLine():
            ThreePointArc((-29.1934356258, -2.7828598124), (-29.5320302103, -2.7598421048), (-29.8705527189, -2.7838965977))
            ThreePointArc((-29.8705527189, -2.7838965977), (-29.5319831983, -2.790545292), (-29.1934356258, -2.7828598124))
        make_face()
        with BuildLine():
            ThreePointArc((-29.0212866821, -7.6003236322), (-32.9089653438, -19), (-21.0927166835, -21.3330097011))
            ThreePointArc((-21.0927166835, -21.3330097011), (-22.1327152821, -20.2519854395), (-23.1173769149, -19.1203264767))
            Line((-23.1173769149, -19.1203264767), (-25.9807621135, -20.7735026919))
            Line((-25.9807621135, -20.7735026919), (-30.9807621135, -17.8867513459))
            Line((-30.9807621135, -17.8867513459), (-30.9807621135, -12.1132486541))
            Line((-30.9807621135, -12.1132486541), (-28.1173769149, -10.4600724388))
            ThreePointArc((-28.1173769149, -10.4600724388), (-28.6050915087, -9.0415009693), (-29.0212866821, -7.6003236322))
        make_face()
        with BuildLine():
            ThreePointArc((-20.5746813298, -20.8969729997), (-20.848855327, -21.0969848163), (-21.0927166835, -21.3330097011))
            ThreePointArc((-21.0927166835, -21.3330097011), (-20.8290836854, -21.1204746035), (-20.5746813298, -20.8969729997))
        make_face()
        with BuildLine():
            ThreePointArc((-23.1173769149, -19.1203264767), (-22.1327152821, -20.2519854395), (-21.0927166835, -21.3330097011))
            ThreePointArc((-21.0927166835, -21.3330097011), (-20.848855327, -21.0969848163), (-20.5746813298, -20.8969729997))
            ThreePointArc((-20.5746813298, -20.8969729997), (-18.6578990713, -18.2211297498), (-17.9807621135, -15))
            ThreePointArc((-17.9807621135, -15), (-21.2495415654, -8.5489882867), (-28.3846501448, -7.3697102065))
            ThreePointArc((-28.3846501448, -7.3697102065), (-28.6949524576, -7.5071459448), (-29.0212866821, -7.6003236322))
            ThreePointArc((-29.0212866821, -7.6003236322), (-28.6050915087, -9.0415009693), (-28.1173769149, -10.4600724388))
            Line((-28.1173769149, -10.4600724388), (-25.9807621135, -9.2264973081))
            Line((-25.9807621135, -9.2264973081), (-20.9807621135, -12.1132486541))
            Line((-20.9807621135, -12.1132486541), (-20.9807621135, -17.8867513459))
            Line((-20.9807621135, -17.8867513459), (-23.1173769149, -19.1203264767))
        make_face()
        with BuildLine():
            ThreePointArc((-28.3846501448, -7.3697102065), (-28.7054093893, -7.4782783073), (-29.0212866821, -7.6003236322))
            ThreePointArc((-29.0212866821, -7.6003236322), (-28.6949524576, -7.5071459448), (-28.3846501448, -7.3697102065))
        make_face()
        with BuildLine():
            ThreePointArc((29.1934356258, -2.7828598124), (21.6657705663, 3.8202599087), (26.4810619211, 12.5997758673))
            ThreePointArc((26.4810619211, 12.5997758673), (23.8477512735, 13.7685056173), (24.1522569436, 16.6333844092))
            ThreePointArc((24.1522569436, 16.6333844092), (14.1413274131, 16.8529777486), (12.1866905202, 26.6736867819))
            ThreePointArc((12.1866905202, 26.6736867819), (9.4182125292, 25.8763262557), (7.8099688151, 28.2666832062))
            ThreePointArc((7.8099688151, 28.2666832062), (0, 22), (-7.8099688151, 28.2666832062))
            ThreePointArc((-7.8099688151, 28.2666832062), (-9.4182125292, 25.8763262557), (-12.1866905202, 26.6736867819))
            ThreePointArc((-12.1866905202, 26.6736867819), (-11.5126726813, 24.881925022), (-11.2836282906, 22.9813332936))
            ThreePointArc((-11.2836282906, 22.9813332936), (-15.7444920417, 15.8067591172), (-24.1522569436, 16.6333844092))
            ThreePointArc((-24.1522569436, 16.6333844092), (-23.8477512735, 13.7685056173), (-26.4810619211, 12.5997758673))
            ThreePointArc((-26.4810619211, 12.5997758673), (-22.8919636032, 9.6532407036), (-21.5442325904, 5.20944533))
            ThreePointArc((-21.5442325904, 5.20944533), (-23.7646834853, -0.3219931937), (-29.1934356258, -2.7828598124))
            ThreePointArc((-29.1934356258, -2.7828598124), (-27.1186621586, -4.7817518193), (-28.3846501448, -7.3697102065))
            ThreePointArc((-28.3846501448, -7.3697102065), (-21.2495415654, -8.5489882867), (-17.9807621135, -15))
            ThreePointArc((-17.9807621135, -15), (-18.6578990713, -18.2211297498), (-20.5746813298, -20.8969729997))
            ThreePointArc((-20.5746813298, -20.8969729997), (-17.7004496294, -21.0945744364), (-17.0067451056, -23.8908269695))
            ThreePointArc((-17.0067451056, -23.8908269695), (-8.0210872142, -20.51063779), (-2.2606042998, -28.1907786236))
            ThreePointArc((-2.2606042998, -28.1907786236), (-2.2776726773, -28.7130838128), (-2.3288049774, -29.2331602765))
            ThreePointArc((-2.3288049774, -29.2331602765), (0, -27.5370112346), (2.3288049774, -29.2331602765))
            ThreePointArc((2.3288049774, -29.2331602765), (7.5244431532, -20.6732376573), (17.0067451056, -23.8908269695))
            ThreePointArc((17.0067451056, -23.8908269695), (17.7004496294, -21.0945744364), (20.5746813298, -20.8969729997))
            ThreePointArc((20.5746813298, -20.8969729997), (19.0525588833, -11), (28.3846501448, -7.3697102065))
            ThreePointArc((28.3846501448, -7.3697102065), (27.1186621586, -4.7817518193), (29.1934356258, -2.7828598124))
        make_face()
        Circle(F0_R, mode=Mode.SUBTRACT)
    extrude(amount=F1_DEPTH)


solid = f1.part
